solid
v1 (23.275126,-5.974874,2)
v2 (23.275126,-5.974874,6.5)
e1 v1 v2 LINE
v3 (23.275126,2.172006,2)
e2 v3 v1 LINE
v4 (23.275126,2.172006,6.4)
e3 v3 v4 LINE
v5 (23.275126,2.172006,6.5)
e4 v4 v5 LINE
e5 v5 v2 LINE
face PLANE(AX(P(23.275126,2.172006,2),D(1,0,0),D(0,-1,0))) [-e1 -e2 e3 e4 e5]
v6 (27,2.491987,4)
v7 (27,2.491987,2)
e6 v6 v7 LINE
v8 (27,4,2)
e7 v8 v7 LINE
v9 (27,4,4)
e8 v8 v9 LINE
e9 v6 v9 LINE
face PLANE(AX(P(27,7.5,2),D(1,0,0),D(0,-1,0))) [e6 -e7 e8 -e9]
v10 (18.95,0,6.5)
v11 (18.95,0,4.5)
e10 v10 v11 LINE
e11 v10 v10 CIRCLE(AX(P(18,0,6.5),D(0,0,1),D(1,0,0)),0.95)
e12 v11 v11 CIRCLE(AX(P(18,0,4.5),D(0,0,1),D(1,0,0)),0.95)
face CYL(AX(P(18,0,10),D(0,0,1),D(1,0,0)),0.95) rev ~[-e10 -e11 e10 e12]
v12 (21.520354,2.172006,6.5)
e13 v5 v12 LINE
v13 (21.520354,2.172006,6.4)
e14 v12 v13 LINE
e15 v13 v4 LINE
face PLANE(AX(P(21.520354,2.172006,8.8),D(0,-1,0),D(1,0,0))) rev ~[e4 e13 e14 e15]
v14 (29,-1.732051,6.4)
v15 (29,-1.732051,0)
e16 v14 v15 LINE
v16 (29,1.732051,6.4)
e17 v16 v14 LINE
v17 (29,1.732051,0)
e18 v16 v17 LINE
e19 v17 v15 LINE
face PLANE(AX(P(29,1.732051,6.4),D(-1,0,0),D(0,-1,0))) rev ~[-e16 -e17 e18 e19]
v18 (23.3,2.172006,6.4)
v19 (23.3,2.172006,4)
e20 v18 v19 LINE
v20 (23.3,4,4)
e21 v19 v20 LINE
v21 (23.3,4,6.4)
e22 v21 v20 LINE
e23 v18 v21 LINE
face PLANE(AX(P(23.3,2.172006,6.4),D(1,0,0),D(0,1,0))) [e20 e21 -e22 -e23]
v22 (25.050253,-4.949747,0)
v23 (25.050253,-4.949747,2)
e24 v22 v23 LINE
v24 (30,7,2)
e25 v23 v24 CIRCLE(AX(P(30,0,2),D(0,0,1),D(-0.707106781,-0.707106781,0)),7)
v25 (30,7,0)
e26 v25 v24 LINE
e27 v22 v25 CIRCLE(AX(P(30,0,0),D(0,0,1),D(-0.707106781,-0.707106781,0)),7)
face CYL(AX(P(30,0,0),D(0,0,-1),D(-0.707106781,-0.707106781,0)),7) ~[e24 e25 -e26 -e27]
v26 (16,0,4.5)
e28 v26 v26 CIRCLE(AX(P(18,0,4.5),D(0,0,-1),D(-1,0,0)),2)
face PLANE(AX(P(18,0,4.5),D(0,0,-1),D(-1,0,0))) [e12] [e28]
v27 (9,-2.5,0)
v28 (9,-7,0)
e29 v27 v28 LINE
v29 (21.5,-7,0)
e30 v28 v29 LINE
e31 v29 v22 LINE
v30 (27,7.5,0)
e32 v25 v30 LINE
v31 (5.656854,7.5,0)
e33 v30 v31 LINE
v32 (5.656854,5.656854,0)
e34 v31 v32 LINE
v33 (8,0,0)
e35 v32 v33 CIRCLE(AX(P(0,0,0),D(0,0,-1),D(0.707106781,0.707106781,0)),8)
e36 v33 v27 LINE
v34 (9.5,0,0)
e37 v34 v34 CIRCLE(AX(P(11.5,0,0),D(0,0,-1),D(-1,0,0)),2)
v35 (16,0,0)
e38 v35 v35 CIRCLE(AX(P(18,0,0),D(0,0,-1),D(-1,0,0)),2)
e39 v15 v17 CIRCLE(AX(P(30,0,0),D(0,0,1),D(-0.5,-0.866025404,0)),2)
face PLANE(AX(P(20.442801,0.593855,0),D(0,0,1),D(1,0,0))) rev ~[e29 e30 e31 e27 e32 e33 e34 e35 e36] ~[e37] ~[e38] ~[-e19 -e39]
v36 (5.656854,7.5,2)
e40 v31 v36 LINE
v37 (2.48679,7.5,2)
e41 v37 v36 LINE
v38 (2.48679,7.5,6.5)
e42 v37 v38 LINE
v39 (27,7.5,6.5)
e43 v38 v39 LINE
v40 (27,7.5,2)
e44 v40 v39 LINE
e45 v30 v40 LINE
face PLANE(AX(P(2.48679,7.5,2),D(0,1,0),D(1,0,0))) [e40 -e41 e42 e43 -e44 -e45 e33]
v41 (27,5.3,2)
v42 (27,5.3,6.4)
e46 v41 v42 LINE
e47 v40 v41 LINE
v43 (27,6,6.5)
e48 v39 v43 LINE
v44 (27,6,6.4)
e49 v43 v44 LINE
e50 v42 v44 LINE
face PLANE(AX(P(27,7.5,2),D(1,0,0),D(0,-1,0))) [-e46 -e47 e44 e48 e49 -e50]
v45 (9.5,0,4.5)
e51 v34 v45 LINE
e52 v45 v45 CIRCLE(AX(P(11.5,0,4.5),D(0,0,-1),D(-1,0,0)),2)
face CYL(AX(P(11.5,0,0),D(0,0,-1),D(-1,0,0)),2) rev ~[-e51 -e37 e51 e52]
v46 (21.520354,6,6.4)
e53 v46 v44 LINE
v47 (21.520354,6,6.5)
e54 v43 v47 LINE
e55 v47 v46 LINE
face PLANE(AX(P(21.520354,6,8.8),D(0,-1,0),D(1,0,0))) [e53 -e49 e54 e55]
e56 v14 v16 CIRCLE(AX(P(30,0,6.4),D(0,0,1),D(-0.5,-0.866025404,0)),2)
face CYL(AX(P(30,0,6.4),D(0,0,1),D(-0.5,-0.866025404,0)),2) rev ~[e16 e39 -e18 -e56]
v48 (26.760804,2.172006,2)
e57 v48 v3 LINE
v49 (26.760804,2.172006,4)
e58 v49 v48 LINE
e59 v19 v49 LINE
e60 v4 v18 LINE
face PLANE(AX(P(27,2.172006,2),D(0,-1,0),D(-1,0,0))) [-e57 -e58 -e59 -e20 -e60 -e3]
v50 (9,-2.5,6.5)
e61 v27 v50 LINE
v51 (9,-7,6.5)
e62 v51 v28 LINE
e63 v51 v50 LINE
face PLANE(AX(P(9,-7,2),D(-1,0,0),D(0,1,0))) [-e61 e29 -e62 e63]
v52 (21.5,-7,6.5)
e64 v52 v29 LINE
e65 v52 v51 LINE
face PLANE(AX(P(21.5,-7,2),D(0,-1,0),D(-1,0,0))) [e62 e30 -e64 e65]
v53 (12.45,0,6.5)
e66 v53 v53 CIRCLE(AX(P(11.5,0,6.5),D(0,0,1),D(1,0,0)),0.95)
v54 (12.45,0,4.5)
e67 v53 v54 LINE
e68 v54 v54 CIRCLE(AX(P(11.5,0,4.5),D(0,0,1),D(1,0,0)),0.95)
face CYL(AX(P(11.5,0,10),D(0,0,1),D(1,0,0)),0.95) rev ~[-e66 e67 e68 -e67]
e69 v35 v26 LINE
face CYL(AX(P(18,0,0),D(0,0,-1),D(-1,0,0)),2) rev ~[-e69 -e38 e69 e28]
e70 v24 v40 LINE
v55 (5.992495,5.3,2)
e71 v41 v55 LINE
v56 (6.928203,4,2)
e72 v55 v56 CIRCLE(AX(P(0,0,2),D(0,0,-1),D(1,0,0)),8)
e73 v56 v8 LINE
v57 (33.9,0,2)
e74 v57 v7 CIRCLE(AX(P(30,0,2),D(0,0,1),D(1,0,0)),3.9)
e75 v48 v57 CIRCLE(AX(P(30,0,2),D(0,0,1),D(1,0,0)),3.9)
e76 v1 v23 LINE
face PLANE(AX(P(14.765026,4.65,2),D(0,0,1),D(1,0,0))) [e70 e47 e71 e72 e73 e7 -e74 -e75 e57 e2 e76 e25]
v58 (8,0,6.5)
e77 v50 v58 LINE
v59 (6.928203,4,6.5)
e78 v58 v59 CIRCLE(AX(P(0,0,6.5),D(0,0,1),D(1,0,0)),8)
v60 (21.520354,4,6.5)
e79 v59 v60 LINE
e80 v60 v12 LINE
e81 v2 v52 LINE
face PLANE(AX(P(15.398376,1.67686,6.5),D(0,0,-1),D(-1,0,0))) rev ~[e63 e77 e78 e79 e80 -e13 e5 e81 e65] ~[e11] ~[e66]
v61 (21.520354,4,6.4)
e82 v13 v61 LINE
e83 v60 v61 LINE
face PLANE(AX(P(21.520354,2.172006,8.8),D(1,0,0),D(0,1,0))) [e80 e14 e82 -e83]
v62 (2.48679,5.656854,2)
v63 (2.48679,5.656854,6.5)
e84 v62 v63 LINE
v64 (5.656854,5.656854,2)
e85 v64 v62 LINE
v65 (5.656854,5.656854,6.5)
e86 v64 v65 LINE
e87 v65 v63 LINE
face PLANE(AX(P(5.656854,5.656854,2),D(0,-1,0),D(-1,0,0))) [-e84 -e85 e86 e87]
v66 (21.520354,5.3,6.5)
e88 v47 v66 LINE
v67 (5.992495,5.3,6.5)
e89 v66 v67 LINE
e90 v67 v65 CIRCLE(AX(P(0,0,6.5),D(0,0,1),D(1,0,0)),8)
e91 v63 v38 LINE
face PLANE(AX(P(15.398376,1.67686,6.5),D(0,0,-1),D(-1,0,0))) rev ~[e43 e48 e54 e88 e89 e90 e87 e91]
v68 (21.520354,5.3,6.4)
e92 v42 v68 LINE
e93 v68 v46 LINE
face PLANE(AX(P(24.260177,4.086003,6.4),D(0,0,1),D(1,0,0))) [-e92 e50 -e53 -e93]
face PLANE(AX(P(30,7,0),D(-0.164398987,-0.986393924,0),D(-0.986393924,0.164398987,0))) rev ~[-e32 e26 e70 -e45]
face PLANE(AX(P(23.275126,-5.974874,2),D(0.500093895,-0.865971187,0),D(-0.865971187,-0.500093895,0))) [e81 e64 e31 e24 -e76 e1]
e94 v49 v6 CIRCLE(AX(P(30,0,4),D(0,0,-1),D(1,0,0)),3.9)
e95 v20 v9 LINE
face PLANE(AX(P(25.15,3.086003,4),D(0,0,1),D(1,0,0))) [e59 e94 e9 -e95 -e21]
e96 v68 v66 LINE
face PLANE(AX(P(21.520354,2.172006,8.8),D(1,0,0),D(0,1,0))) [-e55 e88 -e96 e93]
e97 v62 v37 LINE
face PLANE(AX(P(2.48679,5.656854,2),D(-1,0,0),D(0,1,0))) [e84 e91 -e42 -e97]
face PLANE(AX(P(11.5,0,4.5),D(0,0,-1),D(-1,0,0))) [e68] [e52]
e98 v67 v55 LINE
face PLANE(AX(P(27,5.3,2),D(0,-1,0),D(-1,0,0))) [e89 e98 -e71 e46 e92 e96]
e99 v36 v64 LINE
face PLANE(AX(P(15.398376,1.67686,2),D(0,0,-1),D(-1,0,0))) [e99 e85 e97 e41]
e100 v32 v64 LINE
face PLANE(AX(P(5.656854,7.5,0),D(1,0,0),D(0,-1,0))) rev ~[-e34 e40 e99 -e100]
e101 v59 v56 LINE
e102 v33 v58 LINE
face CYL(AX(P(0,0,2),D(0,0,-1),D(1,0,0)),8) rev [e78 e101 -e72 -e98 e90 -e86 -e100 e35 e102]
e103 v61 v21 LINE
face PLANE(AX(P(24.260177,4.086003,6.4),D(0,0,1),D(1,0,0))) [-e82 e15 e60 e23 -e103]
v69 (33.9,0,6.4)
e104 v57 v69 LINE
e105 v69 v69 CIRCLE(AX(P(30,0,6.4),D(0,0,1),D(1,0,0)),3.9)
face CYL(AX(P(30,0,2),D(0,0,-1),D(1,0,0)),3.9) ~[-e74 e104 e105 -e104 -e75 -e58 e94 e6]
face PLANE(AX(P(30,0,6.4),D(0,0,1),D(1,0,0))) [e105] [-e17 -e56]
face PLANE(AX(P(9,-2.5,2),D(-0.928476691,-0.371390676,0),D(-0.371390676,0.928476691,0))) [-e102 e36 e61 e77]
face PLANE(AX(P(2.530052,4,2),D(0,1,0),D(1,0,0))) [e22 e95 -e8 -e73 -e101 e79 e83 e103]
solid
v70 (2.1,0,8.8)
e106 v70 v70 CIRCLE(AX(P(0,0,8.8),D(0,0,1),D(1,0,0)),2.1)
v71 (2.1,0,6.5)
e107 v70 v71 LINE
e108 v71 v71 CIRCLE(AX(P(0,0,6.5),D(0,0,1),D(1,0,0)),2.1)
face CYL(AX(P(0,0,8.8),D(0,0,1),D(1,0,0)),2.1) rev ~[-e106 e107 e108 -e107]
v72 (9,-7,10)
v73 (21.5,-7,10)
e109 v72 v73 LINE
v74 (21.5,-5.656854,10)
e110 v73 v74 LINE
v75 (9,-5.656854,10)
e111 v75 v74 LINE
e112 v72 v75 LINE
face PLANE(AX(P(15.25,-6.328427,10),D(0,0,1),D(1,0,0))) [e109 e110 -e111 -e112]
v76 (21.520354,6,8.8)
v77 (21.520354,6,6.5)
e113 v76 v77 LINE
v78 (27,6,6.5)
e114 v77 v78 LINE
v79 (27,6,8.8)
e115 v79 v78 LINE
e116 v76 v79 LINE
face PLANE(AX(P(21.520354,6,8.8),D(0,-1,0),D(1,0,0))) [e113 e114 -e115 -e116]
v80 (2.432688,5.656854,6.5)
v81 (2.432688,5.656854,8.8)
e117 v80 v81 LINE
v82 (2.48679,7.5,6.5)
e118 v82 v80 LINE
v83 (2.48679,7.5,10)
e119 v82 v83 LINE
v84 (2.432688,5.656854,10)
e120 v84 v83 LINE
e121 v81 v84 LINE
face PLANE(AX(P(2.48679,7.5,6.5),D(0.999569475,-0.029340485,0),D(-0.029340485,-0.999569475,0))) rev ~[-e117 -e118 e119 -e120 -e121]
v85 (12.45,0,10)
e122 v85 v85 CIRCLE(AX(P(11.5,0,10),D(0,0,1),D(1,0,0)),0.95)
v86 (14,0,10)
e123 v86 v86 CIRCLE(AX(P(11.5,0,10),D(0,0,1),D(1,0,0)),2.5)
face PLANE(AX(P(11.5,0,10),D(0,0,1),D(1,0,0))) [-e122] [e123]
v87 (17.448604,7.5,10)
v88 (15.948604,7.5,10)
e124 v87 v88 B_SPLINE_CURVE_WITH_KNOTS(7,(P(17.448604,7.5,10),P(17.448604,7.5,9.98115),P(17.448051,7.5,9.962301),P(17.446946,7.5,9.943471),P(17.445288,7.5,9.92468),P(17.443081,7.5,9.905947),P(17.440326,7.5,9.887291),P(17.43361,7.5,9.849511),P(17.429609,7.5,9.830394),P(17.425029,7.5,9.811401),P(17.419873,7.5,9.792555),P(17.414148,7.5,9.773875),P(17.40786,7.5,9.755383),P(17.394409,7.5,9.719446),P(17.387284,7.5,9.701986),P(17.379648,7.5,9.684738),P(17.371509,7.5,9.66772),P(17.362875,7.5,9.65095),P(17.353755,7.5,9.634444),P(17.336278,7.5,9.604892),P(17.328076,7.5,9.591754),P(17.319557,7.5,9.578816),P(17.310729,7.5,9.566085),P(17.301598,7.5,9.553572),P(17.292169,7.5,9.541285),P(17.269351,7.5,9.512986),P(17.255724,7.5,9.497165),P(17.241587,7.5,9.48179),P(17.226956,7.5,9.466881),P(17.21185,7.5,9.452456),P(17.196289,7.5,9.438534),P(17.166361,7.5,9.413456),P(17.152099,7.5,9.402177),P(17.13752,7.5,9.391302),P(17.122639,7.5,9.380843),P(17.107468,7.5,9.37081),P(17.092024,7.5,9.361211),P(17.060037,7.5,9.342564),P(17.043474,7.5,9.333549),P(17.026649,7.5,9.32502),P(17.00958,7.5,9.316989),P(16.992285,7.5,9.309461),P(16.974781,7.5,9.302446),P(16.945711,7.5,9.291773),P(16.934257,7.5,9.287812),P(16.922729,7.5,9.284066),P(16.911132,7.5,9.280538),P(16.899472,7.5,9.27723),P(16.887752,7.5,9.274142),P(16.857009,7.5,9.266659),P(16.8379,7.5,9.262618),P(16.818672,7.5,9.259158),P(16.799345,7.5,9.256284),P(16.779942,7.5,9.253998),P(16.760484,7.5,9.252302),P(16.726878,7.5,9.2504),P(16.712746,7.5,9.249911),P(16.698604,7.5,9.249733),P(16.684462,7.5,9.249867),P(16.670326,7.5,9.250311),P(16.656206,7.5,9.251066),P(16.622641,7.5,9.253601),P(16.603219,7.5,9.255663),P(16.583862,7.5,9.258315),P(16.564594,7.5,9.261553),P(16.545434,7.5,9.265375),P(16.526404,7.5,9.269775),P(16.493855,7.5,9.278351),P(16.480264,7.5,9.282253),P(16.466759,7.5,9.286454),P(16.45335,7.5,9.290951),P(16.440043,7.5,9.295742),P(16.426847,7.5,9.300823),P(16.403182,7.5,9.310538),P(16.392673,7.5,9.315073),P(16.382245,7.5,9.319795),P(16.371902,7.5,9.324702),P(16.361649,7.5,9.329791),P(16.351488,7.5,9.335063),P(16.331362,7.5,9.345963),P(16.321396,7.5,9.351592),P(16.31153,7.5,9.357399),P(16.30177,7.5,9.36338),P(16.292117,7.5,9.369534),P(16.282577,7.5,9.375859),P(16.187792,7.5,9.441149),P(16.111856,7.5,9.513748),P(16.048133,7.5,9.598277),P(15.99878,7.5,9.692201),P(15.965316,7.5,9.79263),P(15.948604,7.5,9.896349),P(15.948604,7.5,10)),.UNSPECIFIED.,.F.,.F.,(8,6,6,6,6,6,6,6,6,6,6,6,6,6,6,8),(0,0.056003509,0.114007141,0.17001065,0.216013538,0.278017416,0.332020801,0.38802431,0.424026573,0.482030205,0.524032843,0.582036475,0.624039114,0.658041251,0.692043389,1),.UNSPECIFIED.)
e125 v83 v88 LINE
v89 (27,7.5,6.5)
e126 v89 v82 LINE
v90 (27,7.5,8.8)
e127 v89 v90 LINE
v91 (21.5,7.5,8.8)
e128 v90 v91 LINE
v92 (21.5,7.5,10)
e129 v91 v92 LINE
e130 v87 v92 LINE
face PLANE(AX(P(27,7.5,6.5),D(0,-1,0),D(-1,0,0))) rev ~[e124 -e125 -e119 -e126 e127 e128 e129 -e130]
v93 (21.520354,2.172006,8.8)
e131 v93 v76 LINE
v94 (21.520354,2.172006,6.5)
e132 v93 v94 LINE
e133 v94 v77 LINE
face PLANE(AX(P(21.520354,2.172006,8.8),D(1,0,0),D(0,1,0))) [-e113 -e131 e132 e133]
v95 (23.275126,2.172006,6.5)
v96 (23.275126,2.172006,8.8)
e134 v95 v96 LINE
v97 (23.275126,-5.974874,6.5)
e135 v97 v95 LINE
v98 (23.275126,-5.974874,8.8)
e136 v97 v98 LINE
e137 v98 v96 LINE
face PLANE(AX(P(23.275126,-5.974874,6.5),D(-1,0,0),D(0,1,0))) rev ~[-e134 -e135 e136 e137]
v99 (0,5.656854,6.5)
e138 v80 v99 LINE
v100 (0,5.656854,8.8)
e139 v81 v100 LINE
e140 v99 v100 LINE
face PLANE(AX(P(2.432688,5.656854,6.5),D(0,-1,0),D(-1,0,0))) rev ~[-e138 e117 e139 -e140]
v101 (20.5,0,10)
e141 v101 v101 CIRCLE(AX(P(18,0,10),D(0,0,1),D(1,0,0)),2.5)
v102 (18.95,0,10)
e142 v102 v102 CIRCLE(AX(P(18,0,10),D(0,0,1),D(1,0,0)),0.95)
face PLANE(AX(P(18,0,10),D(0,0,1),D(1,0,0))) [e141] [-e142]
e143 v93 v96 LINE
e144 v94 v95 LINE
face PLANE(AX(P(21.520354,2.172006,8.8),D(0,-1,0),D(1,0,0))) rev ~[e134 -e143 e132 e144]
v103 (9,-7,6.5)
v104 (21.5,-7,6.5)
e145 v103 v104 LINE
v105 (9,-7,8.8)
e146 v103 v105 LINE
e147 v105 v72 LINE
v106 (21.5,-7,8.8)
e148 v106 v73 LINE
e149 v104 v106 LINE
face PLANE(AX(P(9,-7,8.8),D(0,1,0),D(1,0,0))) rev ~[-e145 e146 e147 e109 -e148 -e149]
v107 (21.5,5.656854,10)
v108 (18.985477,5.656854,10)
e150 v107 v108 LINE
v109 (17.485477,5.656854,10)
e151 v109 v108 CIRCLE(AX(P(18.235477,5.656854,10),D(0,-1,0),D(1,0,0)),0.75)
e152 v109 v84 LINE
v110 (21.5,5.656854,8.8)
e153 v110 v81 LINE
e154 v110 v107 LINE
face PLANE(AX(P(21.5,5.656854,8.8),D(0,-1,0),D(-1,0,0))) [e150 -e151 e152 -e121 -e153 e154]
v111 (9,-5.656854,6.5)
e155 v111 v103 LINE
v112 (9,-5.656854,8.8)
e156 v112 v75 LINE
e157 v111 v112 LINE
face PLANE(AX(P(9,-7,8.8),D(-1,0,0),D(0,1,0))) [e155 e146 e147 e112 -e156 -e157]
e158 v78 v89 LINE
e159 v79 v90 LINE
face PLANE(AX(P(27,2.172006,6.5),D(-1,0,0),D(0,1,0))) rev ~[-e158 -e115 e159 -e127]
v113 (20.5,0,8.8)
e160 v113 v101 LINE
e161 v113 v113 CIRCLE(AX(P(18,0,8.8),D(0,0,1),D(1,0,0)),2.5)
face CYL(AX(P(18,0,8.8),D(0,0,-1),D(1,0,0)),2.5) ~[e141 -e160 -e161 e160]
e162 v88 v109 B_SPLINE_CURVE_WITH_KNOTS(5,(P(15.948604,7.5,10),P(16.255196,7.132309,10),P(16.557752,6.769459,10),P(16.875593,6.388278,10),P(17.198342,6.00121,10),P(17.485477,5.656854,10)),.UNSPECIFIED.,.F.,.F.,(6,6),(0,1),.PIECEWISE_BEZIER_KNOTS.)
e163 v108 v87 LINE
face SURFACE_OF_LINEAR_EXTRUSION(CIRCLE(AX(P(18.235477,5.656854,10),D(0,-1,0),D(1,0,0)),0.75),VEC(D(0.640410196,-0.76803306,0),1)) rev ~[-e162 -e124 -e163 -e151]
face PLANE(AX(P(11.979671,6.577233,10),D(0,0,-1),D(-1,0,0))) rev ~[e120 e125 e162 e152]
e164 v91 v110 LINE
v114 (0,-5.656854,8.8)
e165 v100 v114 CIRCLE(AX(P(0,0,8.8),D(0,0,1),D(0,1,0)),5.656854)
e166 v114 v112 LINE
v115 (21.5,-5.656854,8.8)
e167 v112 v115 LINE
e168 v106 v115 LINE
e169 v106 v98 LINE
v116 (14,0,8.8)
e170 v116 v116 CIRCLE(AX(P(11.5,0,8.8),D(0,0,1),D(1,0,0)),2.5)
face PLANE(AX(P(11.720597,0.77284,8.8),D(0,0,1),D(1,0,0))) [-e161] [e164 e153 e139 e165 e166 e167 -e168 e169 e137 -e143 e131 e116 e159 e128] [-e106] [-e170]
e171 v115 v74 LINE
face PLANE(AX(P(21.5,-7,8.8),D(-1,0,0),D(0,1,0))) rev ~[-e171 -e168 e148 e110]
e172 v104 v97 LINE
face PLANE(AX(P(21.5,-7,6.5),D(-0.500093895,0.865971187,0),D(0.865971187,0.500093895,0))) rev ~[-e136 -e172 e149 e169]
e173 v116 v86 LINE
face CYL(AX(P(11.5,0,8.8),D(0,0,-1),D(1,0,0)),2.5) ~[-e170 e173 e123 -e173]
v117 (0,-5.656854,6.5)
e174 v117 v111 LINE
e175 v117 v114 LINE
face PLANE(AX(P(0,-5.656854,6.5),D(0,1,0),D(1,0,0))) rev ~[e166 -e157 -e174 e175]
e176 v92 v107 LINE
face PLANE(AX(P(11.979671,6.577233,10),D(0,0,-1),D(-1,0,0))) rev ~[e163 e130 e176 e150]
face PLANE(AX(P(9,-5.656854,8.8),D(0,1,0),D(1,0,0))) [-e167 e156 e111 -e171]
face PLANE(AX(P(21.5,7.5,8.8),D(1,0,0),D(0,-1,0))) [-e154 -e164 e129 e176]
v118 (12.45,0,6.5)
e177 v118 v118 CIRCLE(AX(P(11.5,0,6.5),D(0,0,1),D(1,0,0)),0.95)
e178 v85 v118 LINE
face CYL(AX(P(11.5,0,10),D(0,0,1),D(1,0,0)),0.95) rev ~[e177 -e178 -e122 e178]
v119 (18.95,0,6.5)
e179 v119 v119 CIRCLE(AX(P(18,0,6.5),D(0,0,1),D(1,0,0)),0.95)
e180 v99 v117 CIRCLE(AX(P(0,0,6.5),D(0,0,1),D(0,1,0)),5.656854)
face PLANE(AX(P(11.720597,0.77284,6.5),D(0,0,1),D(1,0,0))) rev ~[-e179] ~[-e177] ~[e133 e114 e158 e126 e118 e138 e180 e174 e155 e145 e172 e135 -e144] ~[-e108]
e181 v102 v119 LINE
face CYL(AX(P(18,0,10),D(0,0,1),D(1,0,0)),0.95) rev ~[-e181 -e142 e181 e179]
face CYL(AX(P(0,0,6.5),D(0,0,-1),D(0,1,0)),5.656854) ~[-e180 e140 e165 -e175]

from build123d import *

# Parameters (mm, degrees)
BOSS_EXTRUDE1_DEPTH  = 2
BOSS_EXTRUDE6_DEPTH  = 4.5
CUT_EXTRUDE6_DEPTH   = 4.5
BOSS_EXTRUDE14_DEPTH = 2.3
SKETCH32_R           = 2.1
CUT_EXTRUDE7_DEPTH   = 2.3
SKETCH33_W           = 12.5
SKETCH33_H           = 1.343145751
BOSS_EXTRUDE15_DEPTH = 1.2
SKETCH35_W           = 5.479645997
SKETCH35_H           = 3.827993755
CUT_EXTRUDE8_DEPTH   = 2.4
SKETCH36_W           = 3.7
SKETCH36_H           = 1.827993755
CUT_EXTRUDE9_DEPTH   = 2.4
SKETCH37_R           = 3.9
BOSS_EXTRUDE16_DEPTH = 4.4
CUT_EXTRUDE10_DEPTH  = 7.4
SKETCH43_R           = 2.5
BOSS_EXTRUDE17_DEPTH = 1.2
SKETCH44_R           = 0.95
CUT_EXTRUDE11_DEPTH  = 11
SKETCH45_R           = 2
CUT_EXTRUDE12_DEPTH  = 4.5
SKETCH52_R           = 0.75
CUT_EXTRUDE13_DEPTH  = 10


with BuildPart() as part:
    # Sketch3 → Boss-Extrude1 (new body)
    with BuildSketch(Plane.XY):
        with BuildLine():
            Line((8, 0), (9, -2.5))
            Line((9, -2.5), (9, -7))
            Line((9, -7), (21.5, -7))
            Line((21.5, -7), (25.050252532, -4.949747468))
            ThreePointArc((25.050252532, -4.949747468), (36.467156728, -2.678784027), (30, 7))
            Line((30, 7), (27, 7.5))
            Line((27, 7.5), (5.656854249, 7.5))
            Line((5.656854249, 7.5), (5.656854249, 5.656854249))
            ThreePointArc((5.656854249, 5.656854249), (7.39103626, 3.061467459), (8, 0))
        make_face()
    extrude(amount=BOSS_EXTRUDE1_DEPTH)

    # Sketch22 → Boss-Extrude6 (add)
    with BuildSketch(Plane.XY.offset(2)):
        with BuildLine():
            Line((5.656854249, 5.656854249), (2.486790148, 5.656854249))
            Line((2.486790148, 5.656854249), (2.486790148, 7.5))
            Line((2.486790148, 7.5), (5.656854249, 7.5))
            Line((5.656854249, 7.5), (21.5, 7.5))
            Line((21.5, 7.5), (27, 7.5))
            Line((27, 7.5), (27, 2.172006245))
            Line((27, 2.172006245), (23.275126266, 2.172006245))
            Line((23.275126266, 2.172006245), (23.275126266, -5.974873734))
            Line((23.275126266, -5.974873734), (21.5, -7))
            Line((21.5, -7), (9, -7))
            Line((9, -7), (9, -2.5))
            Line((9, -2.5), (8, 0))
            ThreePointArc((8, 0), (7.39103626, 3.061467459), (5.656854249, 5.656854249))
        make_face()
    extrude(amount=BOSS_EXTRUDE6_DEPTH)

    # Sketch26 → Cut-Extrude6 (cut)
    with BuildSketch(Plane.XY.offset(2)):
        Polygon((18.098080448, 5.3), (2.530052458, 5.3), (2.530052458, 4), (18.098080448, 4), (27, 4), (27, 5.3), align=None)
    extrude(amount=CUT_EXTRUDE6_DEPTH, mode=Mode.SUBTRACT)


with BuildPart() as body_2:
    # Sketch31 → Boss-Extrude14 (new body)
    with BuildSketch(Plane.XY.offset(6.5)):
        with BuildLine():
            Line((2.432688066, 5.656854249), (0, 5.656854249))
            ThreePointArc((0, 5.656854249), (-5.656854249, 0), (0, -5.656854249))
            Line((0, -5.656854249), (9, -5.656854249))
            Line((9, -5.656854249), (9, -7))
            Line((9, -7), (21.5, -7))
            Line((21.5, -7), (23.275126266, -5.974873734))
            Line((23.275126266, -5.974873734), (23.275126266, 2.172006245))
            Line((23.275126266, 2.172006245), (27, 2.172006245))
            Line((27, 2.172006245), (27, 7.5))
            Line((27, 7.5), (2.486790148, 7.5))
            Line((2.486790148, 7.5), (2.432688066, 5.656854249))
        make_face()
    extrude(amount=BOSS_EXTRUDE14_DEPTH)

    # Sketch32 → Cut-Extrude7 (cut)
    with BuildSketch(Plane.XY.offset(8.8)):
        Circle(SKETCH32_R)
    extrude(amount=-CUT_EXTRUDE7_DEPTH, mode=Mode.SUBTRACT)

    # Sketch33 → Boss-Extrude15 (add)
    with BuildSketch(Plane.XY.offset(8.8)):
        with Locations((15.25, -6.328427125)):
            Rectangle(SKETCH33_W, SKETCH33_H)
        Polygon((2.486790148, 7.5), (21.5, 7.5), (21.5, 5.656854249), (2.432688066, 5.656854249), align=None)
    extrude(amount=BOSS_EXTRUDE15_DEPTH)


with BuildPart() as cut_extrude8_tool:
    # Sketch35 → Cut-Extrude8 (new body)
    with BuildSketch(Plane.XY.offset(8.8)):
        with Locations((24.260177002, 4.086003123)):
            Rectangle(SKETCH35_W, SKETCH35_H)
    extrude(amount=-CUT_EXTRUDE8_DEPTH)


with BuildPart() as part_1:
    add(part.part)

    # Cut-Extrude8: cut by cut_extrude8_tool
    add(cut_extrude8_tool.part, mode=Mode.SUBTRACT)

    # Sketch36 → Cut-Extrude9 (cut)
    with BuildSketch(Plane.XY.offset(6.4)):
        with Locations((25.15, 3.086003123)):
            Rectangle(SKETCH36_W, SKETCH36_H)
    extrude(amount=-CUT_EXTRUDE9_DEPTH, mode=Mode.SUBTRACT)

    # Sketch37 → Boss-Extrude16 (add)
    with BuildSketch(Plane.XY.offset(2)):
        with Locations((30, 0)):
            Circle(SKETCH37_R)
    extrude(amount=BOSS_EXTRUDE16_DEPTH)

    # Sketch39 → Cut-Extrude10 (cut, through all)
    with BuildSketch(Plane.XY.offset(6.4)):
        with BuildLine():
            Line((29, 1.732050808), (29, -1.732050808))
            ThreePointArc((29, -1.732050808), (32, 0), (29, 1.732050808))
        make_face()
    extrude(amount=-CUT_EXTRUDE10_DEPTH, mode=Mode.SUBTRACT)


with BuildPart() as body_2_1:
    add(body_2.part)

    # Cut-Extrude8: cut by cut_extrude8_tool
    add(cut_extrude8_tool.part, mode=Mode.SUBTRACT)

    # Sketch43 → Boss-Extrude17 (add)
    with BuildSketch(Plane.XY.offset(8.8)):
        with Locations((11.5, 0)):
            Circle(SKETCH43_R)
        with Locations((18, 0)):
            Circle(SKETCH43_R)
    extrude(amount=BOSS_EXTRUDE17_DEPTH)


with BuildPart() as cut_extrude11_tool:
    # Sketch44 → Cut-Extrude11 (new body, through all)
    with BuildSketch(Plane.XY.offset(10)):
        with Locations((11.5, 0)):
            Circle(SKETCH44_R)
        with Locations((18, 0)):
            Circle(SKETCH44_R)
    extrude(amount=-CUT_EXTRUDE11_DEPTH)


with BuildPart() as part_2:
    add(part_1.part)

    # Cut-Extrude11: cut by cut_extrude11_tool
    add(cut_extrude11_tool.part, mode=Mode.SUBTRACT)

    # Sketch45 → Cut-Extrude12 (cut)
    with BuildSketch(Plane(origin=(0, 0, 0), x_dir=(-1, 0, 0), z_dir=(0, 0, -1))):
        with Locations((-11.5, 0)):
            Circle(SKETCH45_R)
        with Locations((-18, 0)):
            Circle(SKETCH45_R)
    extrude(amount=-CUT_EXTRUDE12_DEPTH, mode=Mode.SUBTRACT)


with BuildPart() as body_2_2:
    add(body_2_1.part)

    # Cut-Extrude11: cut by cut_extrude11_tool
    add(cut_extrude11_tool.part, mode=Mode.SUBTRACT)

    # Sketch52 → Cut-Extrude13 (cut, along a direction that is not the sketch's normal)
    with BuildSketch(Plane.XZ.offset(-5.656854249)):
        with Locations((18.235476819, 10)):
            Circle(SKETCH52_R)
    extrude(amount=-CUT_EXTRUDE13_DEPTH, dir=(0.640410196, -0.76803306, 0), mode=Mode.SUBTRACT)


solid = Compound([part_2.part, body_2_2.part])
